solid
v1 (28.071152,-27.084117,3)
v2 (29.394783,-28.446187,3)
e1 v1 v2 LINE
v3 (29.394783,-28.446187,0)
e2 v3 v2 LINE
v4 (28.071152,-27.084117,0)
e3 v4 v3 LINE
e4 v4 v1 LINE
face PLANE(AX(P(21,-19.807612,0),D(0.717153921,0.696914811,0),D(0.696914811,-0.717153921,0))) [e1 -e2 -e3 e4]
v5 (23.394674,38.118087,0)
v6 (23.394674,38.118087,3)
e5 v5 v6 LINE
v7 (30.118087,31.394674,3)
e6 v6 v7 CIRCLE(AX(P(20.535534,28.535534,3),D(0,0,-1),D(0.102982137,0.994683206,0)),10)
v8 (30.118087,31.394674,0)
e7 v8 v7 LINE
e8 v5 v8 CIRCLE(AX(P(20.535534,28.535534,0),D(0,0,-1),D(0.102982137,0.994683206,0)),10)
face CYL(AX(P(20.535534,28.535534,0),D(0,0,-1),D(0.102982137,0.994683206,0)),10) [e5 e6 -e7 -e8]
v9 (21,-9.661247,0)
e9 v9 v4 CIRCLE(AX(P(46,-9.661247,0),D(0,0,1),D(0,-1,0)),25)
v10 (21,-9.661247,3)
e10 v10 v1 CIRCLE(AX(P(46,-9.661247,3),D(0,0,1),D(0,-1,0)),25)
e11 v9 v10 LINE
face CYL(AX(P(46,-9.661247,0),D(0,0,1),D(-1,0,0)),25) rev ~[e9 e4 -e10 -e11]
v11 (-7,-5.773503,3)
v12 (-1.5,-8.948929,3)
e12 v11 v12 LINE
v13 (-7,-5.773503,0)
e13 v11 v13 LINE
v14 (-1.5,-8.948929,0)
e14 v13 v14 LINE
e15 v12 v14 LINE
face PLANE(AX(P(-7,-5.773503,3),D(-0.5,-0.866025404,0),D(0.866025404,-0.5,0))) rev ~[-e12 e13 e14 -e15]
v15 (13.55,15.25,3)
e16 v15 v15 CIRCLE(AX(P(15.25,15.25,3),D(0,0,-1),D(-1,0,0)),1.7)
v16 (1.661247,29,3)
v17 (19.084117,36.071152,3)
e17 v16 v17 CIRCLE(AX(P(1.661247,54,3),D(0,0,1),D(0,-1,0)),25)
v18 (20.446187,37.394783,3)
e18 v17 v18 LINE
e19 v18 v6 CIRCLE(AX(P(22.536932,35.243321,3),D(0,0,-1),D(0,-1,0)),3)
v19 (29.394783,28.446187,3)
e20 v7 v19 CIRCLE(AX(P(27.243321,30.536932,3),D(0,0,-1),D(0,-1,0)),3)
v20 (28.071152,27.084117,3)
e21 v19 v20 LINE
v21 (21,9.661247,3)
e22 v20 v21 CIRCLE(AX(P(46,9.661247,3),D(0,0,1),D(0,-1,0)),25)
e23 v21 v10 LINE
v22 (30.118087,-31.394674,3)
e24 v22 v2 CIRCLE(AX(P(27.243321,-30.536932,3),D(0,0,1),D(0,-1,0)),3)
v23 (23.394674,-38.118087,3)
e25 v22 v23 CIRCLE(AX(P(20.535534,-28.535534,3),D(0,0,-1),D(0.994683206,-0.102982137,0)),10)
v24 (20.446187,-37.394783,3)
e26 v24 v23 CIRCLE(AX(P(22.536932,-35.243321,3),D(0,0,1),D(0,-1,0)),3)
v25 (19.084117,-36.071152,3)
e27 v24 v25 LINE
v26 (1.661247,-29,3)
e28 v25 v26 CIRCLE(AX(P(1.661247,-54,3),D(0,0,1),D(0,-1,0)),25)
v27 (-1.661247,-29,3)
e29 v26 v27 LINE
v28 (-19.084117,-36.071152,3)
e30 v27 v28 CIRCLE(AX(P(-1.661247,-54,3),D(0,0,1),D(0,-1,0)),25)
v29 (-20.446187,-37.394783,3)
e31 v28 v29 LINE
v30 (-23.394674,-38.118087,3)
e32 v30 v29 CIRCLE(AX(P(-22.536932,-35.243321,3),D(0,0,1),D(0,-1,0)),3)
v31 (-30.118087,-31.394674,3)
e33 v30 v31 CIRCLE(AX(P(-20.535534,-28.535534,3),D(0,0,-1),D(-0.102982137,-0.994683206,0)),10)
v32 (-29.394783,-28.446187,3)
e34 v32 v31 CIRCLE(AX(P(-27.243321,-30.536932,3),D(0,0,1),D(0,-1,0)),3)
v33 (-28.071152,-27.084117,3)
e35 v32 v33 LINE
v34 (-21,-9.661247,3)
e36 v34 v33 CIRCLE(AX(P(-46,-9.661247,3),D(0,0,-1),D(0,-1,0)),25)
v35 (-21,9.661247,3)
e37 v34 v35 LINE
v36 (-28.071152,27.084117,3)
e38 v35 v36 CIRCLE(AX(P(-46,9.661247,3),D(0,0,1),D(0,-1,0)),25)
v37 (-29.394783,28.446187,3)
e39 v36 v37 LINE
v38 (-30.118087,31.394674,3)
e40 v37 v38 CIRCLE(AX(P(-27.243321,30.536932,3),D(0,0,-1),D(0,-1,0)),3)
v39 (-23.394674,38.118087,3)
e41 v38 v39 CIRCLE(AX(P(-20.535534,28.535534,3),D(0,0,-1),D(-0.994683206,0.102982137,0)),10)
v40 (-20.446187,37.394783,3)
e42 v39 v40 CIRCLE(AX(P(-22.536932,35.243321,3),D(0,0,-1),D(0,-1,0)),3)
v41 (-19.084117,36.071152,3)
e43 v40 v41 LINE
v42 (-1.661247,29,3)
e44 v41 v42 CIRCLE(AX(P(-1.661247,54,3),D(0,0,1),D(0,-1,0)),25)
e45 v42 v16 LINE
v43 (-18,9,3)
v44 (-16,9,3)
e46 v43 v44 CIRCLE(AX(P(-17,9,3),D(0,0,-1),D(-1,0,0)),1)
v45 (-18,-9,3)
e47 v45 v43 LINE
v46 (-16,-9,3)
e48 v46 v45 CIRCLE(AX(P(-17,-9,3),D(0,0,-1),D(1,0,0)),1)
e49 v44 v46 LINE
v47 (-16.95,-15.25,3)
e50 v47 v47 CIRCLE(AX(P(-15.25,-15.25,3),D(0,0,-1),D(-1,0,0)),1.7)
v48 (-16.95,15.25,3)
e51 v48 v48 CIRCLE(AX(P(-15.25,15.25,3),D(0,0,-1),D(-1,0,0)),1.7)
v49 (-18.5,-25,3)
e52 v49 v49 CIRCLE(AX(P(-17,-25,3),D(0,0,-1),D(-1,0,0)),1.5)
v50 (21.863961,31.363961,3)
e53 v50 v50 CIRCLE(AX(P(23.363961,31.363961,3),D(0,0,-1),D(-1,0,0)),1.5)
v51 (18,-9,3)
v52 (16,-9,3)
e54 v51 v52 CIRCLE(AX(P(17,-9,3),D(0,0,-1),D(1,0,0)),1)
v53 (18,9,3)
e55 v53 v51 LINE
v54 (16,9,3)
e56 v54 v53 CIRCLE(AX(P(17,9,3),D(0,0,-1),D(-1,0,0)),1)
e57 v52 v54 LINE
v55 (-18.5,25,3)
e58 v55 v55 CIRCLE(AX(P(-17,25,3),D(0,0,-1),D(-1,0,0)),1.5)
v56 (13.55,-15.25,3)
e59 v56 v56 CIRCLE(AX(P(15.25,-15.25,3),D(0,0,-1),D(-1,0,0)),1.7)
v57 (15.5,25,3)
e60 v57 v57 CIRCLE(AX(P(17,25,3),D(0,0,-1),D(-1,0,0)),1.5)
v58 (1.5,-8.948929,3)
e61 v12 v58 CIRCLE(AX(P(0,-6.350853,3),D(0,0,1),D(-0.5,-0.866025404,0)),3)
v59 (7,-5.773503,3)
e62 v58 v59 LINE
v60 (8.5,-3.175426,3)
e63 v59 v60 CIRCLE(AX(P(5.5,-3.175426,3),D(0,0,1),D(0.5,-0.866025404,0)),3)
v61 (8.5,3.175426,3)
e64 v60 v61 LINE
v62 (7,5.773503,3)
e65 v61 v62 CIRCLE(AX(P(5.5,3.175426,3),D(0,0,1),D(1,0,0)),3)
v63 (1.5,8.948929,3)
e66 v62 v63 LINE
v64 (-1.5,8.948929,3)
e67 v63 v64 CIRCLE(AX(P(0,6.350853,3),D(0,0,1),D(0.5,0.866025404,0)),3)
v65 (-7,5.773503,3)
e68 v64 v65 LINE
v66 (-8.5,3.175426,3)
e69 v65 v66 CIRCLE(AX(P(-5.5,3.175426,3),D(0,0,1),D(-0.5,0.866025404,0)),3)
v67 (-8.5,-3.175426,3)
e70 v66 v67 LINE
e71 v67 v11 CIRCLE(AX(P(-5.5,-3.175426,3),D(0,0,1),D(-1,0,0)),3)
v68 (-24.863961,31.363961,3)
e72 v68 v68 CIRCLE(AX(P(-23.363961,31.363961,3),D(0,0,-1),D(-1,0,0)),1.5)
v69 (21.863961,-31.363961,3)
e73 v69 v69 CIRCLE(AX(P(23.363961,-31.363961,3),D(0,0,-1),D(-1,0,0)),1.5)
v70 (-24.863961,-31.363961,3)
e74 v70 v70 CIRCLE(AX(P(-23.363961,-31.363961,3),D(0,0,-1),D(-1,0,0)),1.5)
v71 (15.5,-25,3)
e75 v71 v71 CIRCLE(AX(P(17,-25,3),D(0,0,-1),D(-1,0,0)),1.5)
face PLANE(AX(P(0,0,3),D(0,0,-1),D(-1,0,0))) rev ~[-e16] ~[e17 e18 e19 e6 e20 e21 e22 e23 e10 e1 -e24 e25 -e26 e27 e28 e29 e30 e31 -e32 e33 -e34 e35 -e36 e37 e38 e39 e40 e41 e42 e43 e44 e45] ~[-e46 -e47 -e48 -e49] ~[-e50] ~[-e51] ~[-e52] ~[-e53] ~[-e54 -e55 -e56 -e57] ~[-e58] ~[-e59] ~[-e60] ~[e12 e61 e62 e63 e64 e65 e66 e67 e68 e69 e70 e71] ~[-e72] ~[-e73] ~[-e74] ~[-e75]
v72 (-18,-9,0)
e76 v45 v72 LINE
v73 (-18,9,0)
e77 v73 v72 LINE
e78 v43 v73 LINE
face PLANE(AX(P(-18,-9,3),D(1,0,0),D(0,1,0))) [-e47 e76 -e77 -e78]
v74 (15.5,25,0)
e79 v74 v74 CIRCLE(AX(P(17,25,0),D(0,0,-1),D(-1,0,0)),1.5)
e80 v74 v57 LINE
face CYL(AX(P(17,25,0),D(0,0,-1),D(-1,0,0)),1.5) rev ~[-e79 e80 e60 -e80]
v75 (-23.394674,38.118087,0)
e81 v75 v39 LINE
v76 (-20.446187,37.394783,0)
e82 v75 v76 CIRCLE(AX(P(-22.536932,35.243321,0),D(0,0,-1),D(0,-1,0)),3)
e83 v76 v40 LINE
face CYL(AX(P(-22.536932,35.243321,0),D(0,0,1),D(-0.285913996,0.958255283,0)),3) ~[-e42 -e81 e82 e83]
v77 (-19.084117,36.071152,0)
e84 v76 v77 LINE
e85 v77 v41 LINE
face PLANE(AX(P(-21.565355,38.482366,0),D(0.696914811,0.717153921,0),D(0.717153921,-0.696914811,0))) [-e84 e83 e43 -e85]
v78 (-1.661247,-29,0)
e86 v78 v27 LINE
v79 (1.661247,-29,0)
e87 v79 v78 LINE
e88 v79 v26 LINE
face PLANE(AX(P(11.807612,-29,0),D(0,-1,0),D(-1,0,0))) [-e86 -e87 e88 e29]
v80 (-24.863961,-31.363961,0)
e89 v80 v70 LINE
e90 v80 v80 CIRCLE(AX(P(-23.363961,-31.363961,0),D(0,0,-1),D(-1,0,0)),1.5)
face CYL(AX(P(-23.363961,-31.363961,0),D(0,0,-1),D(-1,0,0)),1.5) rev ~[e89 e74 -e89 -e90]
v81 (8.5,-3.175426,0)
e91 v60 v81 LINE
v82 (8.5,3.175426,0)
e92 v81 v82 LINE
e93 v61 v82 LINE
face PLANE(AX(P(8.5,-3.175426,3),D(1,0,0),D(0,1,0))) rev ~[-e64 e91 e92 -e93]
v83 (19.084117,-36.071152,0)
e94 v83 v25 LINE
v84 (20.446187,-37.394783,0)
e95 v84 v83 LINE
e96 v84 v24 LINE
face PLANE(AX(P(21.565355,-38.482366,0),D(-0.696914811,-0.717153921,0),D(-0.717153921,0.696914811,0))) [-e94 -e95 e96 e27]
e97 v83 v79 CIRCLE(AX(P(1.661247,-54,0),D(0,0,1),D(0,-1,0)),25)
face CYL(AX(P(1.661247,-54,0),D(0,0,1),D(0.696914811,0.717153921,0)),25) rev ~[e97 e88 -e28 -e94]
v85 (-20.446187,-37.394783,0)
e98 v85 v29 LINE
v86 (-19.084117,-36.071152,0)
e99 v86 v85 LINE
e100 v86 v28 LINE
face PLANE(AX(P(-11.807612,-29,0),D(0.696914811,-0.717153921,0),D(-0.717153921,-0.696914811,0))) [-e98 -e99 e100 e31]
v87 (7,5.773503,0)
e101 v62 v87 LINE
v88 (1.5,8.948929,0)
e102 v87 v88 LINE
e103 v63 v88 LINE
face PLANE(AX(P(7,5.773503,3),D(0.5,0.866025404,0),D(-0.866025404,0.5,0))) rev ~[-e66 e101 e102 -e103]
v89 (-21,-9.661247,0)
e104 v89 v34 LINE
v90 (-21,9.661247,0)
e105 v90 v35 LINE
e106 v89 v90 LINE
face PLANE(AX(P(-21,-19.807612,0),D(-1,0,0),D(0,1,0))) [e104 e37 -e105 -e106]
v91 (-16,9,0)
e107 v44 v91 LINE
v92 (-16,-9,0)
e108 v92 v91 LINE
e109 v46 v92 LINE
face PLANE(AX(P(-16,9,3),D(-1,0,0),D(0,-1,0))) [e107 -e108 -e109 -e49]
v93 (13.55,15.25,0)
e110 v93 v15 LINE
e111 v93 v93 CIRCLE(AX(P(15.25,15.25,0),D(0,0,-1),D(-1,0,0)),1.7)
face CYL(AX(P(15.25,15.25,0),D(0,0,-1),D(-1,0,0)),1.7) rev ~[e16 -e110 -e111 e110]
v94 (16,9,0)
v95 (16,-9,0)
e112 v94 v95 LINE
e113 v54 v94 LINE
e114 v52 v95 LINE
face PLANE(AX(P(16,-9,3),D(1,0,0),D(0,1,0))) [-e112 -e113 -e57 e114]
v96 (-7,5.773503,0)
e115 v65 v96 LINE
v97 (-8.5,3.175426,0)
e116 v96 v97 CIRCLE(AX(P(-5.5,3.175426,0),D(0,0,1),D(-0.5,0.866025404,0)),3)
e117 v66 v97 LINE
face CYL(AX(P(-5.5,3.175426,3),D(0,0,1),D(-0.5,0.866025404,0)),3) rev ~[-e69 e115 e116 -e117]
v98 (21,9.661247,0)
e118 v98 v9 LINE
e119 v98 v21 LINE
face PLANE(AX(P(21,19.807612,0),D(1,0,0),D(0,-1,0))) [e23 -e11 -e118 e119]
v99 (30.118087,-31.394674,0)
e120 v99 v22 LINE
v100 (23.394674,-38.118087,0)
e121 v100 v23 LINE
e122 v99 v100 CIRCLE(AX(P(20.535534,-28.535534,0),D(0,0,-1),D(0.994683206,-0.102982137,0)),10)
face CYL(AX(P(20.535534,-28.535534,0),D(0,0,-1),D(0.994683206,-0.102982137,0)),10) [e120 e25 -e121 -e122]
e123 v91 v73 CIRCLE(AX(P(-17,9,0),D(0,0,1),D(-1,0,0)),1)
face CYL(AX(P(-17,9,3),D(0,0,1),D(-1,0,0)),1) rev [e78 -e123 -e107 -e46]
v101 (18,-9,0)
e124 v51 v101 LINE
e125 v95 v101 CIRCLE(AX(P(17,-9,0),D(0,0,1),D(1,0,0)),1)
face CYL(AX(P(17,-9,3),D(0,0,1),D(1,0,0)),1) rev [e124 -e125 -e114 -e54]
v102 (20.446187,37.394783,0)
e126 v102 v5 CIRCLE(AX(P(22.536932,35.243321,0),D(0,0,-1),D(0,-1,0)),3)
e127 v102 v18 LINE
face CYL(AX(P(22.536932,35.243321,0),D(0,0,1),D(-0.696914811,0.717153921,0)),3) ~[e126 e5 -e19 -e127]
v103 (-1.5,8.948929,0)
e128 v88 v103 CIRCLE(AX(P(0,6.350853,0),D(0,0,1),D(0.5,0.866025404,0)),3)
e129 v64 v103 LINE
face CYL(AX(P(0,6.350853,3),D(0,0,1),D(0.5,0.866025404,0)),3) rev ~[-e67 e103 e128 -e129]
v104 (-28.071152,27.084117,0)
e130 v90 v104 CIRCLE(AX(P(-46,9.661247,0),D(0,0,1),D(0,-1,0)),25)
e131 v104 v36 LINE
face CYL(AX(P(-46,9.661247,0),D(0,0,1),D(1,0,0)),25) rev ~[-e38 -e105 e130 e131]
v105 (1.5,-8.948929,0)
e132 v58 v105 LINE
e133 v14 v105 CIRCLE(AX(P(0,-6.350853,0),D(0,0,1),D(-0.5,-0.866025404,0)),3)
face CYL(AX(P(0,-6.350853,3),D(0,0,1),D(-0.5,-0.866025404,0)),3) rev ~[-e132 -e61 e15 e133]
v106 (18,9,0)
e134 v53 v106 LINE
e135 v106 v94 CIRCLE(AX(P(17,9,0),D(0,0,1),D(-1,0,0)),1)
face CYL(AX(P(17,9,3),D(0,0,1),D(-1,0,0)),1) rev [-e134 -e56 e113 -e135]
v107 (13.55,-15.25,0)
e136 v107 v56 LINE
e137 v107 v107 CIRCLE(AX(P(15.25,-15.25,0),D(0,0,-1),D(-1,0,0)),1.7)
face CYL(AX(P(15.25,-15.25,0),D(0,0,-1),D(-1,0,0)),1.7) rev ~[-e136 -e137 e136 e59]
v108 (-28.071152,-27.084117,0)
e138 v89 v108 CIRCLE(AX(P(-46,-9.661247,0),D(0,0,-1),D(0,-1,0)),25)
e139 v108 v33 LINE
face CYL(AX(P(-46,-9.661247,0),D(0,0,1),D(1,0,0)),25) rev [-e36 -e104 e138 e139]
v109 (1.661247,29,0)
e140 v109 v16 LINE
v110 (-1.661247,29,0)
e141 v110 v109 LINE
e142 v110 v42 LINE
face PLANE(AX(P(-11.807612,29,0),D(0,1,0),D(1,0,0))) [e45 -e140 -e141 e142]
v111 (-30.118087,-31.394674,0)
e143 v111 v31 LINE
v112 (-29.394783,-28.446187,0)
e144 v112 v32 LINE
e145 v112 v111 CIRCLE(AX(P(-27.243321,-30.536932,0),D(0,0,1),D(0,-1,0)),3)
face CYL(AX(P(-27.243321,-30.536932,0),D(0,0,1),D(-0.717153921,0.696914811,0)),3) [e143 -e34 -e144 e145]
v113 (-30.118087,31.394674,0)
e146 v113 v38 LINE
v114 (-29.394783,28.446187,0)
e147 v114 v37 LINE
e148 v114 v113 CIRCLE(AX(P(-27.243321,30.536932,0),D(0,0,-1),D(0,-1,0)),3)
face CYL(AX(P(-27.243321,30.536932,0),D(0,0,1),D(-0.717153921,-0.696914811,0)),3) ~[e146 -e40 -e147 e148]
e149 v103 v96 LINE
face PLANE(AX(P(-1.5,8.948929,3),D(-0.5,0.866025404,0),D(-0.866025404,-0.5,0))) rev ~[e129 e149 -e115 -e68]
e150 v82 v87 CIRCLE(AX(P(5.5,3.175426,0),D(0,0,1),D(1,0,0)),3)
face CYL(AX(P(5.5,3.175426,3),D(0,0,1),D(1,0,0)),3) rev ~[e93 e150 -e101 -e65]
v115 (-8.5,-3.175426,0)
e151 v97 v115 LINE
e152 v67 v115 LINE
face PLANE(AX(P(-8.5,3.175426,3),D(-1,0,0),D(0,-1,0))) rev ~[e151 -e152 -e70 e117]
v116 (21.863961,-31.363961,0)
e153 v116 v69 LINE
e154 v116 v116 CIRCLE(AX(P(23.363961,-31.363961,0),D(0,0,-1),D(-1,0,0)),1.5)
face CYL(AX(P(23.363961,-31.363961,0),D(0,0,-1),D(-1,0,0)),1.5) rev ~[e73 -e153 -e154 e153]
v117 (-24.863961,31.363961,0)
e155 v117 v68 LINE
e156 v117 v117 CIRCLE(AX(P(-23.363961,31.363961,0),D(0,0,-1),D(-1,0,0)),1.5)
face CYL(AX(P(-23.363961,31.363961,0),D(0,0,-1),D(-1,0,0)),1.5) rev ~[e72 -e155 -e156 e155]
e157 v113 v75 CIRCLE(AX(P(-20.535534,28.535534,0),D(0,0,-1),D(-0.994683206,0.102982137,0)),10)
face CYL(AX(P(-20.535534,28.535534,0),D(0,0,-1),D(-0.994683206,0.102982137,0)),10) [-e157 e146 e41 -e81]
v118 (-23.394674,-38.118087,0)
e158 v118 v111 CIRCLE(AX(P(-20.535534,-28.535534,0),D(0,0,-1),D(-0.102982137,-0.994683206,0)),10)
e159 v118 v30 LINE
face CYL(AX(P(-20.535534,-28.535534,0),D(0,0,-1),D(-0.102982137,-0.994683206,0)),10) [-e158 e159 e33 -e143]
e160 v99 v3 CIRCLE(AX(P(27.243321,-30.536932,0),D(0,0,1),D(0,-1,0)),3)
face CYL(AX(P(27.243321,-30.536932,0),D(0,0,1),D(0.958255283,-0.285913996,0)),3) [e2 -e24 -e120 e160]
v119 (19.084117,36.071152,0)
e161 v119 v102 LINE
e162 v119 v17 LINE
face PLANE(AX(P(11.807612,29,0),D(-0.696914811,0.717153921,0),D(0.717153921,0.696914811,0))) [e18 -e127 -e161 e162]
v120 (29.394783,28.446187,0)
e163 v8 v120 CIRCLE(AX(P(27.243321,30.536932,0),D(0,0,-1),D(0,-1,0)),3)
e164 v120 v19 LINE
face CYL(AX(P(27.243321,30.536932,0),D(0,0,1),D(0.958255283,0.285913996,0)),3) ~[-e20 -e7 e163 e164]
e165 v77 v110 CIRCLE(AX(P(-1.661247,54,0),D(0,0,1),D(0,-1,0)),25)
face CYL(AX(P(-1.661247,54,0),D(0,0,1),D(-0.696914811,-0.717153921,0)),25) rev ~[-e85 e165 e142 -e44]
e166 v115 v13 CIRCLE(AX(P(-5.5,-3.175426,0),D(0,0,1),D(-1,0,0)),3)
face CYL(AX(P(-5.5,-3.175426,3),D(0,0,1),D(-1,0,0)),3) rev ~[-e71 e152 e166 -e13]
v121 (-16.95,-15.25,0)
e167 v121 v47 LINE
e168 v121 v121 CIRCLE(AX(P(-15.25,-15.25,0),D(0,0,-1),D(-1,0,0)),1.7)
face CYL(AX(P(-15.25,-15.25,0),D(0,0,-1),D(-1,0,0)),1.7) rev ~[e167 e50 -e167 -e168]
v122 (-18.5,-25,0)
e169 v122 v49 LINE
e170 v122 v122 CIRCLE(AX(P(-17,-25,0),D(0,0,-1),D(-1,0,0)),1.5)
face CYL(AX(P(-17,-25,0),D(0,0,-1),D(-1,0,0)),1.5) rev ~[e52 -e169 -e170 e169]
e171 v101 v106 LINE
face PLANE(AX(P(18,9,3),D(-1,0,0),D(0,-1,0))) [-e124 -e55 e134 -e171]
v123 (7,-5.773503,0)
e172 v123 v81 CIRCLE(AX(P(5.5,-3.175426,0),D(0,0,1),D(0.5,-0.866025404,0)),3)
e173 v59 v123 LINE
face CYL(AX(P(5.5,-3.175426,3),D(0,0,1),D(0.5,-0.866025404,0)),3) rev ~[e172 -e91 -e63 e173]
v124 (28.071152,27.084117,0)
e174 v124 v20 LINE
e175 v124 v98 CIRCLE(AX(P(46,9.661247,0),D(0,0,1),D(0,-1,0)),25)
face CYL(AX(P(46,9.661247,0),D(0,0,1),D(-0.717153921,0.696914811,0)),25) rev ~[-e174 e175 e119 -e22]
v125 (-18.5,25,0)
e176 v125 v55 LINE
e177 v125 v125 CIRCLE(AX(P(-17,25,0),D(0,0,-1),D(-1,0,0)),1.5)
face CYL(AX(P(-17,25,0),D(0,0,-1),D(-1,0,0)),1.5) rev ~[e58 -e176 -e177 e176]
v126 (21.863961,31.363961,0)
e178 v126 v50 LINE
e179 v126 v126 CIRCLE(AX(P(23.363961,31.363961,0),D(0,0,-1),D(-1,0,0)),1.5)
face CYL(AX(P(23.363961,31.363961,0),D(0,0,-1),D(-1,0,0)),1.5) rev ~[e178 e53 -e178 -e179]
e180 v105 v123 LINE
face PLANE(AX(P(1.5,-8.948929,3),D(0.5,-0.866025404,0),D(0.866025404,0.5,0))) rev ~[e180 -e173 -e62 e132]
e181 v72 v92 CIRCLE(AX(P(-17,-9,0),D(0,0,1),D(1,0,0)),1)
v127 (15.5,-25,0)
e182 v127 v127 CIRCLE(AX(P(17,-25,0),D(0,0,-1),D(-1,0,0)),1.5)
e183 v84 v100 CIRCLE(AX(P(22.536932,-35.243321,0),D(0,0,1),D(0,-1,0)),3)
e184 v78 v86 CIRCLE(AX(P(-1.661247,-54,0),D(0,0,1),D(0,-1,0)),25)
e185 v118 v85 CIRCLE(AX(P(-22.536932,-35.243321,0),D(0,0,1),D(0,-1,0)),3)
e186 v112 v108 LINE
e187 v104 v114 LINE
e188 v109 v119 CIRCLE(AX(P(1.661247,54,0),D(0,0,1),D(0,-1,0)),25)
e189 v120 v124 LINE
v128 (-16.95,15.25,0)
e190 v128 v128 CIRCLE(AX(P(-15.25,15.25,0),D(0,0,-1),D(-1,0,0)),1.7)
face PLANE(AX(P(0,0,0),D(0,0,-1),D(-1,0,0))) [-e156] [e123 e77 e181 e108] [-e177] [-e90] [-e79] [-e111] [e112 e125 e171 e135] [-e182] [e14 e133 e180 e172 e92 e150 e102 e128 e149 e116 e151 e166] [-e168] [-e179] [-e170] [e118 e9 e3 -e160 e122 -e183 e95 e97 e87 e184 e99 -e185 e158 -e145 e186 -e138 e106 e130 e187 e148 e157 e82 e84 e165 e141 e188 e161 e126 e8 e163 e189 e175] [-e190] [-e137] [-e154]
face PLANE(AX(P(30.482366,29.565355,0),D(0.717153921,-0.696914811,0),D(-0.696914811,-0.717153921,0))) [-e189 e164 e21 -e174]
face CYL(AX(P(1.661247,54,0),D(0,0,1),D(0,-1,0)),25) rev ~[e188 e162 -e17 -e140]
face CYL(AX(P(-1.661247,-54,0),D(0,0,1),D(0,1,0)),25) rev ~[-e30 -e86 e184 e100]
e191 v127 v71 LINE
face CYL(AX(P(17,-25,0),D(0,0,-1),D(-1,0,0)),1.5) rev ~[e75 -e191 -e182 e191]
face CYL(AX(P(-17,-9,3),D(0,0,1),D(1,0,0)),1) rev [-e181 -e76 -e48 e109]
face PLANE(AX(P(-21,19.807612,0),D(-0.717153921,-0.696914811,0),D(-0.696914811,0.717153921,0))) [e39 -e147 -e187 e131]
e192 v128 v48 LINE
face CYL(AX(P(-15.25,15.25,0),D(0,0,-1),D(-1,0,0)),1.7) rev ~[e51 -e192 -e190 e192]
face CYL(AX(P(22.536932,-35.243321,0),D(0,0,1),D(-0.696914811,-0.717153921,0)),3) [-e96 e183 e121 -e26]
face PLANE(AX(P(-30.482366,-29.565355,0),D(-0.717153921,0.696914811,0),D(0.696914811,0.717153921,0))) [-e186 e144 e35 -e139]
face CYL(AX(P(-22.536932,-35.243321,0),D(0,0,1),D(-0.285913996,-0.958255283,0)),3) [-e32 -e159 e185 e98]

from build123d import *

# Parameters (mm, degrees)
AUFSATZ_LINEAR_AUSTRAGEN1_DEPTH = 3
VERRUNDUNG1_R                   = 25
VERRUNDUNG2_R                   = 3
SKIZZE3_R                       = 8.5
SCHNITT_LINEAR_AUSTRAGEN1_DEPTH = 49.848849018
SCHNITT_LINEAR_AUSTRAGEN4_DEPTH = 4
SKIZZE4_R                       = 1.5
SKIZZE4_R_2                     = 1.7
SCHNITT_LINEAR_AUSTRAGEN2_DEPTH = 49.848849018
SCHNITT_LINEAR_AUSTRAGEN3_DEPTH = 49.848849018


with BuildPart() as part:
    # Skizze2 → Aufsatz-Linear austragen1 (new body)
    with BuildSketch(Plane.XY):
        with BuildLine():
            Line((-21, -19.807611845), (-21, 19.807611845))
            Line((-21, 19.807611845), (-30.482365961, 29.565355279))
            ThreePointArc((-30.482365961, 29.565355279), (-27.606601718, 35.606601718), (-21.565355279, 38.482365961))
            Line((-21.565355279, 38.482365961), (-11.807611845, 29))
            Line((-11.807611845, 29), (11.807611845, 29))
            Line((11.807611845, 29), (21.565355279, 38.482365961))
            ThreePointArc((21.565355279, 38.482365961), (27.606601718, 35.606601718), (30.482365961, 29.565355279))
            Line((30.482365961, 29.565355279), (21, 19.807611845))
            Line((21, 19.807611845), (21, -19.807611845))
            Line((21, -19.807611845), (30.482365961, -29.565355279))
            ThreePointArc((30.482365961, -29.565355279), (27.606601718, -35.606601718), (21.565355279, -38.482365961))
            Line((21.565355279, -38.482365961), (11.807611845, -29))
            Line((11.807611845, -29), (-11.807611845, -29))
            Line((-11.807611845, -29), (-21.565355279, -38.482365961))
            ThreePointArc((-21.565355279, -38.482365961), (-27.606601718, -35.606601718), (-30.482365961, -29.565355279))
            Line((-30.482365961, -29.565355279), (-21, -19.807611845))
        make_face()
    extrude(amount=AUFSATZ_LINEAR_AUSTRAGEN1_DEPTH)

    # Verrundung1
    verrundung1_edges = [part.edges().sort_by_distance(p)[0] for p in [
        (-21, -19.807611845, 1.5),
        (-21, 19.807611845, 1.5),
        (-11.807611845, 29, 1.5),
        (11.807611845, 29, 1.5),
        (21, 19.807611845, 1.5),
        (21, -19.807611845, 1.5),
        (11.807611845, -29, 1.5),
        (-11.807611845, -29, 1.5),
    ]]
    fillet(verrundung1_edges, radius=VERRUNDUNG1_R)

    # Verrundung2
    verrundung2_edges = [part.edges().sort_by_distance(p)[0] for p in [
        (-30.482365961, 29.565355279, 1.5),
        (-21.565355279, 38.482365961, 1.5),
        (21.565355279, 38.482365961, 1.5),
        (30.482365961, 29.565355279, 1.5),
        (30.482365961, -29.565355279, 1.5),
        (21.565355279, -38.482365961, 1.5),
        (-21.565355279, -38.482365961, 1.5),
        (-30.482365961, -29.565355279, 1.5),
    ]]
    fillet(verrundung2_edges, radius=VERRUNDUNG2_R)

    # Skizze3 → Schnitt-Linear austragen1 (cut, through all)
    with BuildSketch(Plane(origin=(0, 0, 0), x_dir=(-1, 0, 0), z_dir=(0, 0, -1))):
        Circle(SKIZZE3_R)
    extrude(amount=-SCHNITT_LINEAR_AUSTRAGEN1_DEPTH, mode=Mode.SUBTRACT)

    # Skizze7 → Schnitt-Linear austragen4 (cut)
    with BuildSketch(Plane.XY.offset(3)):
        with BuildLine():
            Line((-1.5, 8.948929172), (-7, 5.773502692))
            ThreePointArc((-7, 5.773502692), (-8.098076211, 4.675426481), (-8.5, 3.175426481))
            Line((-8.5, 3.175426481), (-8.5, -3.175426481))
            ThreePointArc((-8.5, -3.175426481), (-8.098076211, -4.675426481), (-7, -5.773502692))
            Line((-7, -5.773502692), (-1.5, -8.948929172))
            ThreePointArc((-1.5, -8.948929172), (0, -9.350852961), (1.5, -8.948929172))
            Line((1.5, -8.948929172), (7, -5.773502692))
            ThreePointArc((7, -5.773502692), (8.098076211, -4.675426481), (8.5, -3.175426481))
            Line((8.5, -3.175426481), (8.5, 3.175426481))
            ThreePointArc((8.5, 3.175426481), (8.098076211, 4.675426481), (7, 5.773502692))
            Line((7, 5.773502692), (1.5, 8.948929172))
            ThreePointArc((1.5, 8.948929172), (0, 9.350852961), (-1.5, 8.948929172))
        make_face()
    extrude(amount=-SCHNITT_LINEAR_AUSTRAGEN4_DEPTH, mode=Mode.SUBTRACT)

    # Skizze4 → Schnitt-Linear austragen2 (cut, through all)
    with BuildSketch(Plane(origin=(0, 0, 0), x_dir=(-1, 0, 0), z_dir=(0, 0, -1))):
        with Locations((-23.363961031, 31.363961031)):
            Circle(SKIZZE4_R)
        with Locations((-17, 25)):
            Circle(SKIZZE4_R)
        with Locations((-15.25, 15.25)):
            Circle(SKIZZE4_R_2)
        with Locations((-17, -25)):
            Circle(SKIZZE4_R)
        with Locations((-15.25, -15.25)):
            Circle(SKIZZE4_R_2)
        with Locations((-23.363961031, -31.363961031)):
            Circle(SKIZZE4_R)
        with Locations((23.363961031, -31.363961031)):
            Circle(SKIZZE4_R)
        with Locations((17, -25)):
            Circle(SKIZZE4_R)
        with Locations((15.25, -15.25)):
            Circle(SKIZZE4_R_2)
        with Locations((23.363961031, 31.363961031)):
            Circle(SKIZZE4_R)
        with Locations((17, 25)):
            Circle(SKIZZE4_R)
        with Locations((15.25, 15.25)):
            Circle(SKIZZE4_R_2)
    extrude(amount=-SCHNITT_LINEAR_AUSTRAGEN2_DEPTH, mode=Mode.SUBTRACT)

    # Skizze5 → Schnitt-Linear austragen3 (cut, through all)
    with BuildSketch(Plane.XY.offset(3)):
        with BuildLine():
            Line((18, 9), (18, -9))
            ThreePointArc((18, -9), (17, -10), (16, -9))
            Line((16, -9), (16, 9))
            ThreePointArc((16, 9), (17, 10), (18, 9))
        make_face()
        with BuildLine():
            Line((-16, 9), (-16, -9))
            ThreePointArc((-16, -9), (-17, -10), (-18, -9))
            Line((-18, -9), (-18, 9))
            ThreePointArc((-18, 9), (-17, 10), (-16, 9))
        make_face()
    extrude(amount=-SCHNITT_LINEAR_AUSTRAGEN3_DEPTH, mode=Mode.SUBTRACT)


solid = part.part
